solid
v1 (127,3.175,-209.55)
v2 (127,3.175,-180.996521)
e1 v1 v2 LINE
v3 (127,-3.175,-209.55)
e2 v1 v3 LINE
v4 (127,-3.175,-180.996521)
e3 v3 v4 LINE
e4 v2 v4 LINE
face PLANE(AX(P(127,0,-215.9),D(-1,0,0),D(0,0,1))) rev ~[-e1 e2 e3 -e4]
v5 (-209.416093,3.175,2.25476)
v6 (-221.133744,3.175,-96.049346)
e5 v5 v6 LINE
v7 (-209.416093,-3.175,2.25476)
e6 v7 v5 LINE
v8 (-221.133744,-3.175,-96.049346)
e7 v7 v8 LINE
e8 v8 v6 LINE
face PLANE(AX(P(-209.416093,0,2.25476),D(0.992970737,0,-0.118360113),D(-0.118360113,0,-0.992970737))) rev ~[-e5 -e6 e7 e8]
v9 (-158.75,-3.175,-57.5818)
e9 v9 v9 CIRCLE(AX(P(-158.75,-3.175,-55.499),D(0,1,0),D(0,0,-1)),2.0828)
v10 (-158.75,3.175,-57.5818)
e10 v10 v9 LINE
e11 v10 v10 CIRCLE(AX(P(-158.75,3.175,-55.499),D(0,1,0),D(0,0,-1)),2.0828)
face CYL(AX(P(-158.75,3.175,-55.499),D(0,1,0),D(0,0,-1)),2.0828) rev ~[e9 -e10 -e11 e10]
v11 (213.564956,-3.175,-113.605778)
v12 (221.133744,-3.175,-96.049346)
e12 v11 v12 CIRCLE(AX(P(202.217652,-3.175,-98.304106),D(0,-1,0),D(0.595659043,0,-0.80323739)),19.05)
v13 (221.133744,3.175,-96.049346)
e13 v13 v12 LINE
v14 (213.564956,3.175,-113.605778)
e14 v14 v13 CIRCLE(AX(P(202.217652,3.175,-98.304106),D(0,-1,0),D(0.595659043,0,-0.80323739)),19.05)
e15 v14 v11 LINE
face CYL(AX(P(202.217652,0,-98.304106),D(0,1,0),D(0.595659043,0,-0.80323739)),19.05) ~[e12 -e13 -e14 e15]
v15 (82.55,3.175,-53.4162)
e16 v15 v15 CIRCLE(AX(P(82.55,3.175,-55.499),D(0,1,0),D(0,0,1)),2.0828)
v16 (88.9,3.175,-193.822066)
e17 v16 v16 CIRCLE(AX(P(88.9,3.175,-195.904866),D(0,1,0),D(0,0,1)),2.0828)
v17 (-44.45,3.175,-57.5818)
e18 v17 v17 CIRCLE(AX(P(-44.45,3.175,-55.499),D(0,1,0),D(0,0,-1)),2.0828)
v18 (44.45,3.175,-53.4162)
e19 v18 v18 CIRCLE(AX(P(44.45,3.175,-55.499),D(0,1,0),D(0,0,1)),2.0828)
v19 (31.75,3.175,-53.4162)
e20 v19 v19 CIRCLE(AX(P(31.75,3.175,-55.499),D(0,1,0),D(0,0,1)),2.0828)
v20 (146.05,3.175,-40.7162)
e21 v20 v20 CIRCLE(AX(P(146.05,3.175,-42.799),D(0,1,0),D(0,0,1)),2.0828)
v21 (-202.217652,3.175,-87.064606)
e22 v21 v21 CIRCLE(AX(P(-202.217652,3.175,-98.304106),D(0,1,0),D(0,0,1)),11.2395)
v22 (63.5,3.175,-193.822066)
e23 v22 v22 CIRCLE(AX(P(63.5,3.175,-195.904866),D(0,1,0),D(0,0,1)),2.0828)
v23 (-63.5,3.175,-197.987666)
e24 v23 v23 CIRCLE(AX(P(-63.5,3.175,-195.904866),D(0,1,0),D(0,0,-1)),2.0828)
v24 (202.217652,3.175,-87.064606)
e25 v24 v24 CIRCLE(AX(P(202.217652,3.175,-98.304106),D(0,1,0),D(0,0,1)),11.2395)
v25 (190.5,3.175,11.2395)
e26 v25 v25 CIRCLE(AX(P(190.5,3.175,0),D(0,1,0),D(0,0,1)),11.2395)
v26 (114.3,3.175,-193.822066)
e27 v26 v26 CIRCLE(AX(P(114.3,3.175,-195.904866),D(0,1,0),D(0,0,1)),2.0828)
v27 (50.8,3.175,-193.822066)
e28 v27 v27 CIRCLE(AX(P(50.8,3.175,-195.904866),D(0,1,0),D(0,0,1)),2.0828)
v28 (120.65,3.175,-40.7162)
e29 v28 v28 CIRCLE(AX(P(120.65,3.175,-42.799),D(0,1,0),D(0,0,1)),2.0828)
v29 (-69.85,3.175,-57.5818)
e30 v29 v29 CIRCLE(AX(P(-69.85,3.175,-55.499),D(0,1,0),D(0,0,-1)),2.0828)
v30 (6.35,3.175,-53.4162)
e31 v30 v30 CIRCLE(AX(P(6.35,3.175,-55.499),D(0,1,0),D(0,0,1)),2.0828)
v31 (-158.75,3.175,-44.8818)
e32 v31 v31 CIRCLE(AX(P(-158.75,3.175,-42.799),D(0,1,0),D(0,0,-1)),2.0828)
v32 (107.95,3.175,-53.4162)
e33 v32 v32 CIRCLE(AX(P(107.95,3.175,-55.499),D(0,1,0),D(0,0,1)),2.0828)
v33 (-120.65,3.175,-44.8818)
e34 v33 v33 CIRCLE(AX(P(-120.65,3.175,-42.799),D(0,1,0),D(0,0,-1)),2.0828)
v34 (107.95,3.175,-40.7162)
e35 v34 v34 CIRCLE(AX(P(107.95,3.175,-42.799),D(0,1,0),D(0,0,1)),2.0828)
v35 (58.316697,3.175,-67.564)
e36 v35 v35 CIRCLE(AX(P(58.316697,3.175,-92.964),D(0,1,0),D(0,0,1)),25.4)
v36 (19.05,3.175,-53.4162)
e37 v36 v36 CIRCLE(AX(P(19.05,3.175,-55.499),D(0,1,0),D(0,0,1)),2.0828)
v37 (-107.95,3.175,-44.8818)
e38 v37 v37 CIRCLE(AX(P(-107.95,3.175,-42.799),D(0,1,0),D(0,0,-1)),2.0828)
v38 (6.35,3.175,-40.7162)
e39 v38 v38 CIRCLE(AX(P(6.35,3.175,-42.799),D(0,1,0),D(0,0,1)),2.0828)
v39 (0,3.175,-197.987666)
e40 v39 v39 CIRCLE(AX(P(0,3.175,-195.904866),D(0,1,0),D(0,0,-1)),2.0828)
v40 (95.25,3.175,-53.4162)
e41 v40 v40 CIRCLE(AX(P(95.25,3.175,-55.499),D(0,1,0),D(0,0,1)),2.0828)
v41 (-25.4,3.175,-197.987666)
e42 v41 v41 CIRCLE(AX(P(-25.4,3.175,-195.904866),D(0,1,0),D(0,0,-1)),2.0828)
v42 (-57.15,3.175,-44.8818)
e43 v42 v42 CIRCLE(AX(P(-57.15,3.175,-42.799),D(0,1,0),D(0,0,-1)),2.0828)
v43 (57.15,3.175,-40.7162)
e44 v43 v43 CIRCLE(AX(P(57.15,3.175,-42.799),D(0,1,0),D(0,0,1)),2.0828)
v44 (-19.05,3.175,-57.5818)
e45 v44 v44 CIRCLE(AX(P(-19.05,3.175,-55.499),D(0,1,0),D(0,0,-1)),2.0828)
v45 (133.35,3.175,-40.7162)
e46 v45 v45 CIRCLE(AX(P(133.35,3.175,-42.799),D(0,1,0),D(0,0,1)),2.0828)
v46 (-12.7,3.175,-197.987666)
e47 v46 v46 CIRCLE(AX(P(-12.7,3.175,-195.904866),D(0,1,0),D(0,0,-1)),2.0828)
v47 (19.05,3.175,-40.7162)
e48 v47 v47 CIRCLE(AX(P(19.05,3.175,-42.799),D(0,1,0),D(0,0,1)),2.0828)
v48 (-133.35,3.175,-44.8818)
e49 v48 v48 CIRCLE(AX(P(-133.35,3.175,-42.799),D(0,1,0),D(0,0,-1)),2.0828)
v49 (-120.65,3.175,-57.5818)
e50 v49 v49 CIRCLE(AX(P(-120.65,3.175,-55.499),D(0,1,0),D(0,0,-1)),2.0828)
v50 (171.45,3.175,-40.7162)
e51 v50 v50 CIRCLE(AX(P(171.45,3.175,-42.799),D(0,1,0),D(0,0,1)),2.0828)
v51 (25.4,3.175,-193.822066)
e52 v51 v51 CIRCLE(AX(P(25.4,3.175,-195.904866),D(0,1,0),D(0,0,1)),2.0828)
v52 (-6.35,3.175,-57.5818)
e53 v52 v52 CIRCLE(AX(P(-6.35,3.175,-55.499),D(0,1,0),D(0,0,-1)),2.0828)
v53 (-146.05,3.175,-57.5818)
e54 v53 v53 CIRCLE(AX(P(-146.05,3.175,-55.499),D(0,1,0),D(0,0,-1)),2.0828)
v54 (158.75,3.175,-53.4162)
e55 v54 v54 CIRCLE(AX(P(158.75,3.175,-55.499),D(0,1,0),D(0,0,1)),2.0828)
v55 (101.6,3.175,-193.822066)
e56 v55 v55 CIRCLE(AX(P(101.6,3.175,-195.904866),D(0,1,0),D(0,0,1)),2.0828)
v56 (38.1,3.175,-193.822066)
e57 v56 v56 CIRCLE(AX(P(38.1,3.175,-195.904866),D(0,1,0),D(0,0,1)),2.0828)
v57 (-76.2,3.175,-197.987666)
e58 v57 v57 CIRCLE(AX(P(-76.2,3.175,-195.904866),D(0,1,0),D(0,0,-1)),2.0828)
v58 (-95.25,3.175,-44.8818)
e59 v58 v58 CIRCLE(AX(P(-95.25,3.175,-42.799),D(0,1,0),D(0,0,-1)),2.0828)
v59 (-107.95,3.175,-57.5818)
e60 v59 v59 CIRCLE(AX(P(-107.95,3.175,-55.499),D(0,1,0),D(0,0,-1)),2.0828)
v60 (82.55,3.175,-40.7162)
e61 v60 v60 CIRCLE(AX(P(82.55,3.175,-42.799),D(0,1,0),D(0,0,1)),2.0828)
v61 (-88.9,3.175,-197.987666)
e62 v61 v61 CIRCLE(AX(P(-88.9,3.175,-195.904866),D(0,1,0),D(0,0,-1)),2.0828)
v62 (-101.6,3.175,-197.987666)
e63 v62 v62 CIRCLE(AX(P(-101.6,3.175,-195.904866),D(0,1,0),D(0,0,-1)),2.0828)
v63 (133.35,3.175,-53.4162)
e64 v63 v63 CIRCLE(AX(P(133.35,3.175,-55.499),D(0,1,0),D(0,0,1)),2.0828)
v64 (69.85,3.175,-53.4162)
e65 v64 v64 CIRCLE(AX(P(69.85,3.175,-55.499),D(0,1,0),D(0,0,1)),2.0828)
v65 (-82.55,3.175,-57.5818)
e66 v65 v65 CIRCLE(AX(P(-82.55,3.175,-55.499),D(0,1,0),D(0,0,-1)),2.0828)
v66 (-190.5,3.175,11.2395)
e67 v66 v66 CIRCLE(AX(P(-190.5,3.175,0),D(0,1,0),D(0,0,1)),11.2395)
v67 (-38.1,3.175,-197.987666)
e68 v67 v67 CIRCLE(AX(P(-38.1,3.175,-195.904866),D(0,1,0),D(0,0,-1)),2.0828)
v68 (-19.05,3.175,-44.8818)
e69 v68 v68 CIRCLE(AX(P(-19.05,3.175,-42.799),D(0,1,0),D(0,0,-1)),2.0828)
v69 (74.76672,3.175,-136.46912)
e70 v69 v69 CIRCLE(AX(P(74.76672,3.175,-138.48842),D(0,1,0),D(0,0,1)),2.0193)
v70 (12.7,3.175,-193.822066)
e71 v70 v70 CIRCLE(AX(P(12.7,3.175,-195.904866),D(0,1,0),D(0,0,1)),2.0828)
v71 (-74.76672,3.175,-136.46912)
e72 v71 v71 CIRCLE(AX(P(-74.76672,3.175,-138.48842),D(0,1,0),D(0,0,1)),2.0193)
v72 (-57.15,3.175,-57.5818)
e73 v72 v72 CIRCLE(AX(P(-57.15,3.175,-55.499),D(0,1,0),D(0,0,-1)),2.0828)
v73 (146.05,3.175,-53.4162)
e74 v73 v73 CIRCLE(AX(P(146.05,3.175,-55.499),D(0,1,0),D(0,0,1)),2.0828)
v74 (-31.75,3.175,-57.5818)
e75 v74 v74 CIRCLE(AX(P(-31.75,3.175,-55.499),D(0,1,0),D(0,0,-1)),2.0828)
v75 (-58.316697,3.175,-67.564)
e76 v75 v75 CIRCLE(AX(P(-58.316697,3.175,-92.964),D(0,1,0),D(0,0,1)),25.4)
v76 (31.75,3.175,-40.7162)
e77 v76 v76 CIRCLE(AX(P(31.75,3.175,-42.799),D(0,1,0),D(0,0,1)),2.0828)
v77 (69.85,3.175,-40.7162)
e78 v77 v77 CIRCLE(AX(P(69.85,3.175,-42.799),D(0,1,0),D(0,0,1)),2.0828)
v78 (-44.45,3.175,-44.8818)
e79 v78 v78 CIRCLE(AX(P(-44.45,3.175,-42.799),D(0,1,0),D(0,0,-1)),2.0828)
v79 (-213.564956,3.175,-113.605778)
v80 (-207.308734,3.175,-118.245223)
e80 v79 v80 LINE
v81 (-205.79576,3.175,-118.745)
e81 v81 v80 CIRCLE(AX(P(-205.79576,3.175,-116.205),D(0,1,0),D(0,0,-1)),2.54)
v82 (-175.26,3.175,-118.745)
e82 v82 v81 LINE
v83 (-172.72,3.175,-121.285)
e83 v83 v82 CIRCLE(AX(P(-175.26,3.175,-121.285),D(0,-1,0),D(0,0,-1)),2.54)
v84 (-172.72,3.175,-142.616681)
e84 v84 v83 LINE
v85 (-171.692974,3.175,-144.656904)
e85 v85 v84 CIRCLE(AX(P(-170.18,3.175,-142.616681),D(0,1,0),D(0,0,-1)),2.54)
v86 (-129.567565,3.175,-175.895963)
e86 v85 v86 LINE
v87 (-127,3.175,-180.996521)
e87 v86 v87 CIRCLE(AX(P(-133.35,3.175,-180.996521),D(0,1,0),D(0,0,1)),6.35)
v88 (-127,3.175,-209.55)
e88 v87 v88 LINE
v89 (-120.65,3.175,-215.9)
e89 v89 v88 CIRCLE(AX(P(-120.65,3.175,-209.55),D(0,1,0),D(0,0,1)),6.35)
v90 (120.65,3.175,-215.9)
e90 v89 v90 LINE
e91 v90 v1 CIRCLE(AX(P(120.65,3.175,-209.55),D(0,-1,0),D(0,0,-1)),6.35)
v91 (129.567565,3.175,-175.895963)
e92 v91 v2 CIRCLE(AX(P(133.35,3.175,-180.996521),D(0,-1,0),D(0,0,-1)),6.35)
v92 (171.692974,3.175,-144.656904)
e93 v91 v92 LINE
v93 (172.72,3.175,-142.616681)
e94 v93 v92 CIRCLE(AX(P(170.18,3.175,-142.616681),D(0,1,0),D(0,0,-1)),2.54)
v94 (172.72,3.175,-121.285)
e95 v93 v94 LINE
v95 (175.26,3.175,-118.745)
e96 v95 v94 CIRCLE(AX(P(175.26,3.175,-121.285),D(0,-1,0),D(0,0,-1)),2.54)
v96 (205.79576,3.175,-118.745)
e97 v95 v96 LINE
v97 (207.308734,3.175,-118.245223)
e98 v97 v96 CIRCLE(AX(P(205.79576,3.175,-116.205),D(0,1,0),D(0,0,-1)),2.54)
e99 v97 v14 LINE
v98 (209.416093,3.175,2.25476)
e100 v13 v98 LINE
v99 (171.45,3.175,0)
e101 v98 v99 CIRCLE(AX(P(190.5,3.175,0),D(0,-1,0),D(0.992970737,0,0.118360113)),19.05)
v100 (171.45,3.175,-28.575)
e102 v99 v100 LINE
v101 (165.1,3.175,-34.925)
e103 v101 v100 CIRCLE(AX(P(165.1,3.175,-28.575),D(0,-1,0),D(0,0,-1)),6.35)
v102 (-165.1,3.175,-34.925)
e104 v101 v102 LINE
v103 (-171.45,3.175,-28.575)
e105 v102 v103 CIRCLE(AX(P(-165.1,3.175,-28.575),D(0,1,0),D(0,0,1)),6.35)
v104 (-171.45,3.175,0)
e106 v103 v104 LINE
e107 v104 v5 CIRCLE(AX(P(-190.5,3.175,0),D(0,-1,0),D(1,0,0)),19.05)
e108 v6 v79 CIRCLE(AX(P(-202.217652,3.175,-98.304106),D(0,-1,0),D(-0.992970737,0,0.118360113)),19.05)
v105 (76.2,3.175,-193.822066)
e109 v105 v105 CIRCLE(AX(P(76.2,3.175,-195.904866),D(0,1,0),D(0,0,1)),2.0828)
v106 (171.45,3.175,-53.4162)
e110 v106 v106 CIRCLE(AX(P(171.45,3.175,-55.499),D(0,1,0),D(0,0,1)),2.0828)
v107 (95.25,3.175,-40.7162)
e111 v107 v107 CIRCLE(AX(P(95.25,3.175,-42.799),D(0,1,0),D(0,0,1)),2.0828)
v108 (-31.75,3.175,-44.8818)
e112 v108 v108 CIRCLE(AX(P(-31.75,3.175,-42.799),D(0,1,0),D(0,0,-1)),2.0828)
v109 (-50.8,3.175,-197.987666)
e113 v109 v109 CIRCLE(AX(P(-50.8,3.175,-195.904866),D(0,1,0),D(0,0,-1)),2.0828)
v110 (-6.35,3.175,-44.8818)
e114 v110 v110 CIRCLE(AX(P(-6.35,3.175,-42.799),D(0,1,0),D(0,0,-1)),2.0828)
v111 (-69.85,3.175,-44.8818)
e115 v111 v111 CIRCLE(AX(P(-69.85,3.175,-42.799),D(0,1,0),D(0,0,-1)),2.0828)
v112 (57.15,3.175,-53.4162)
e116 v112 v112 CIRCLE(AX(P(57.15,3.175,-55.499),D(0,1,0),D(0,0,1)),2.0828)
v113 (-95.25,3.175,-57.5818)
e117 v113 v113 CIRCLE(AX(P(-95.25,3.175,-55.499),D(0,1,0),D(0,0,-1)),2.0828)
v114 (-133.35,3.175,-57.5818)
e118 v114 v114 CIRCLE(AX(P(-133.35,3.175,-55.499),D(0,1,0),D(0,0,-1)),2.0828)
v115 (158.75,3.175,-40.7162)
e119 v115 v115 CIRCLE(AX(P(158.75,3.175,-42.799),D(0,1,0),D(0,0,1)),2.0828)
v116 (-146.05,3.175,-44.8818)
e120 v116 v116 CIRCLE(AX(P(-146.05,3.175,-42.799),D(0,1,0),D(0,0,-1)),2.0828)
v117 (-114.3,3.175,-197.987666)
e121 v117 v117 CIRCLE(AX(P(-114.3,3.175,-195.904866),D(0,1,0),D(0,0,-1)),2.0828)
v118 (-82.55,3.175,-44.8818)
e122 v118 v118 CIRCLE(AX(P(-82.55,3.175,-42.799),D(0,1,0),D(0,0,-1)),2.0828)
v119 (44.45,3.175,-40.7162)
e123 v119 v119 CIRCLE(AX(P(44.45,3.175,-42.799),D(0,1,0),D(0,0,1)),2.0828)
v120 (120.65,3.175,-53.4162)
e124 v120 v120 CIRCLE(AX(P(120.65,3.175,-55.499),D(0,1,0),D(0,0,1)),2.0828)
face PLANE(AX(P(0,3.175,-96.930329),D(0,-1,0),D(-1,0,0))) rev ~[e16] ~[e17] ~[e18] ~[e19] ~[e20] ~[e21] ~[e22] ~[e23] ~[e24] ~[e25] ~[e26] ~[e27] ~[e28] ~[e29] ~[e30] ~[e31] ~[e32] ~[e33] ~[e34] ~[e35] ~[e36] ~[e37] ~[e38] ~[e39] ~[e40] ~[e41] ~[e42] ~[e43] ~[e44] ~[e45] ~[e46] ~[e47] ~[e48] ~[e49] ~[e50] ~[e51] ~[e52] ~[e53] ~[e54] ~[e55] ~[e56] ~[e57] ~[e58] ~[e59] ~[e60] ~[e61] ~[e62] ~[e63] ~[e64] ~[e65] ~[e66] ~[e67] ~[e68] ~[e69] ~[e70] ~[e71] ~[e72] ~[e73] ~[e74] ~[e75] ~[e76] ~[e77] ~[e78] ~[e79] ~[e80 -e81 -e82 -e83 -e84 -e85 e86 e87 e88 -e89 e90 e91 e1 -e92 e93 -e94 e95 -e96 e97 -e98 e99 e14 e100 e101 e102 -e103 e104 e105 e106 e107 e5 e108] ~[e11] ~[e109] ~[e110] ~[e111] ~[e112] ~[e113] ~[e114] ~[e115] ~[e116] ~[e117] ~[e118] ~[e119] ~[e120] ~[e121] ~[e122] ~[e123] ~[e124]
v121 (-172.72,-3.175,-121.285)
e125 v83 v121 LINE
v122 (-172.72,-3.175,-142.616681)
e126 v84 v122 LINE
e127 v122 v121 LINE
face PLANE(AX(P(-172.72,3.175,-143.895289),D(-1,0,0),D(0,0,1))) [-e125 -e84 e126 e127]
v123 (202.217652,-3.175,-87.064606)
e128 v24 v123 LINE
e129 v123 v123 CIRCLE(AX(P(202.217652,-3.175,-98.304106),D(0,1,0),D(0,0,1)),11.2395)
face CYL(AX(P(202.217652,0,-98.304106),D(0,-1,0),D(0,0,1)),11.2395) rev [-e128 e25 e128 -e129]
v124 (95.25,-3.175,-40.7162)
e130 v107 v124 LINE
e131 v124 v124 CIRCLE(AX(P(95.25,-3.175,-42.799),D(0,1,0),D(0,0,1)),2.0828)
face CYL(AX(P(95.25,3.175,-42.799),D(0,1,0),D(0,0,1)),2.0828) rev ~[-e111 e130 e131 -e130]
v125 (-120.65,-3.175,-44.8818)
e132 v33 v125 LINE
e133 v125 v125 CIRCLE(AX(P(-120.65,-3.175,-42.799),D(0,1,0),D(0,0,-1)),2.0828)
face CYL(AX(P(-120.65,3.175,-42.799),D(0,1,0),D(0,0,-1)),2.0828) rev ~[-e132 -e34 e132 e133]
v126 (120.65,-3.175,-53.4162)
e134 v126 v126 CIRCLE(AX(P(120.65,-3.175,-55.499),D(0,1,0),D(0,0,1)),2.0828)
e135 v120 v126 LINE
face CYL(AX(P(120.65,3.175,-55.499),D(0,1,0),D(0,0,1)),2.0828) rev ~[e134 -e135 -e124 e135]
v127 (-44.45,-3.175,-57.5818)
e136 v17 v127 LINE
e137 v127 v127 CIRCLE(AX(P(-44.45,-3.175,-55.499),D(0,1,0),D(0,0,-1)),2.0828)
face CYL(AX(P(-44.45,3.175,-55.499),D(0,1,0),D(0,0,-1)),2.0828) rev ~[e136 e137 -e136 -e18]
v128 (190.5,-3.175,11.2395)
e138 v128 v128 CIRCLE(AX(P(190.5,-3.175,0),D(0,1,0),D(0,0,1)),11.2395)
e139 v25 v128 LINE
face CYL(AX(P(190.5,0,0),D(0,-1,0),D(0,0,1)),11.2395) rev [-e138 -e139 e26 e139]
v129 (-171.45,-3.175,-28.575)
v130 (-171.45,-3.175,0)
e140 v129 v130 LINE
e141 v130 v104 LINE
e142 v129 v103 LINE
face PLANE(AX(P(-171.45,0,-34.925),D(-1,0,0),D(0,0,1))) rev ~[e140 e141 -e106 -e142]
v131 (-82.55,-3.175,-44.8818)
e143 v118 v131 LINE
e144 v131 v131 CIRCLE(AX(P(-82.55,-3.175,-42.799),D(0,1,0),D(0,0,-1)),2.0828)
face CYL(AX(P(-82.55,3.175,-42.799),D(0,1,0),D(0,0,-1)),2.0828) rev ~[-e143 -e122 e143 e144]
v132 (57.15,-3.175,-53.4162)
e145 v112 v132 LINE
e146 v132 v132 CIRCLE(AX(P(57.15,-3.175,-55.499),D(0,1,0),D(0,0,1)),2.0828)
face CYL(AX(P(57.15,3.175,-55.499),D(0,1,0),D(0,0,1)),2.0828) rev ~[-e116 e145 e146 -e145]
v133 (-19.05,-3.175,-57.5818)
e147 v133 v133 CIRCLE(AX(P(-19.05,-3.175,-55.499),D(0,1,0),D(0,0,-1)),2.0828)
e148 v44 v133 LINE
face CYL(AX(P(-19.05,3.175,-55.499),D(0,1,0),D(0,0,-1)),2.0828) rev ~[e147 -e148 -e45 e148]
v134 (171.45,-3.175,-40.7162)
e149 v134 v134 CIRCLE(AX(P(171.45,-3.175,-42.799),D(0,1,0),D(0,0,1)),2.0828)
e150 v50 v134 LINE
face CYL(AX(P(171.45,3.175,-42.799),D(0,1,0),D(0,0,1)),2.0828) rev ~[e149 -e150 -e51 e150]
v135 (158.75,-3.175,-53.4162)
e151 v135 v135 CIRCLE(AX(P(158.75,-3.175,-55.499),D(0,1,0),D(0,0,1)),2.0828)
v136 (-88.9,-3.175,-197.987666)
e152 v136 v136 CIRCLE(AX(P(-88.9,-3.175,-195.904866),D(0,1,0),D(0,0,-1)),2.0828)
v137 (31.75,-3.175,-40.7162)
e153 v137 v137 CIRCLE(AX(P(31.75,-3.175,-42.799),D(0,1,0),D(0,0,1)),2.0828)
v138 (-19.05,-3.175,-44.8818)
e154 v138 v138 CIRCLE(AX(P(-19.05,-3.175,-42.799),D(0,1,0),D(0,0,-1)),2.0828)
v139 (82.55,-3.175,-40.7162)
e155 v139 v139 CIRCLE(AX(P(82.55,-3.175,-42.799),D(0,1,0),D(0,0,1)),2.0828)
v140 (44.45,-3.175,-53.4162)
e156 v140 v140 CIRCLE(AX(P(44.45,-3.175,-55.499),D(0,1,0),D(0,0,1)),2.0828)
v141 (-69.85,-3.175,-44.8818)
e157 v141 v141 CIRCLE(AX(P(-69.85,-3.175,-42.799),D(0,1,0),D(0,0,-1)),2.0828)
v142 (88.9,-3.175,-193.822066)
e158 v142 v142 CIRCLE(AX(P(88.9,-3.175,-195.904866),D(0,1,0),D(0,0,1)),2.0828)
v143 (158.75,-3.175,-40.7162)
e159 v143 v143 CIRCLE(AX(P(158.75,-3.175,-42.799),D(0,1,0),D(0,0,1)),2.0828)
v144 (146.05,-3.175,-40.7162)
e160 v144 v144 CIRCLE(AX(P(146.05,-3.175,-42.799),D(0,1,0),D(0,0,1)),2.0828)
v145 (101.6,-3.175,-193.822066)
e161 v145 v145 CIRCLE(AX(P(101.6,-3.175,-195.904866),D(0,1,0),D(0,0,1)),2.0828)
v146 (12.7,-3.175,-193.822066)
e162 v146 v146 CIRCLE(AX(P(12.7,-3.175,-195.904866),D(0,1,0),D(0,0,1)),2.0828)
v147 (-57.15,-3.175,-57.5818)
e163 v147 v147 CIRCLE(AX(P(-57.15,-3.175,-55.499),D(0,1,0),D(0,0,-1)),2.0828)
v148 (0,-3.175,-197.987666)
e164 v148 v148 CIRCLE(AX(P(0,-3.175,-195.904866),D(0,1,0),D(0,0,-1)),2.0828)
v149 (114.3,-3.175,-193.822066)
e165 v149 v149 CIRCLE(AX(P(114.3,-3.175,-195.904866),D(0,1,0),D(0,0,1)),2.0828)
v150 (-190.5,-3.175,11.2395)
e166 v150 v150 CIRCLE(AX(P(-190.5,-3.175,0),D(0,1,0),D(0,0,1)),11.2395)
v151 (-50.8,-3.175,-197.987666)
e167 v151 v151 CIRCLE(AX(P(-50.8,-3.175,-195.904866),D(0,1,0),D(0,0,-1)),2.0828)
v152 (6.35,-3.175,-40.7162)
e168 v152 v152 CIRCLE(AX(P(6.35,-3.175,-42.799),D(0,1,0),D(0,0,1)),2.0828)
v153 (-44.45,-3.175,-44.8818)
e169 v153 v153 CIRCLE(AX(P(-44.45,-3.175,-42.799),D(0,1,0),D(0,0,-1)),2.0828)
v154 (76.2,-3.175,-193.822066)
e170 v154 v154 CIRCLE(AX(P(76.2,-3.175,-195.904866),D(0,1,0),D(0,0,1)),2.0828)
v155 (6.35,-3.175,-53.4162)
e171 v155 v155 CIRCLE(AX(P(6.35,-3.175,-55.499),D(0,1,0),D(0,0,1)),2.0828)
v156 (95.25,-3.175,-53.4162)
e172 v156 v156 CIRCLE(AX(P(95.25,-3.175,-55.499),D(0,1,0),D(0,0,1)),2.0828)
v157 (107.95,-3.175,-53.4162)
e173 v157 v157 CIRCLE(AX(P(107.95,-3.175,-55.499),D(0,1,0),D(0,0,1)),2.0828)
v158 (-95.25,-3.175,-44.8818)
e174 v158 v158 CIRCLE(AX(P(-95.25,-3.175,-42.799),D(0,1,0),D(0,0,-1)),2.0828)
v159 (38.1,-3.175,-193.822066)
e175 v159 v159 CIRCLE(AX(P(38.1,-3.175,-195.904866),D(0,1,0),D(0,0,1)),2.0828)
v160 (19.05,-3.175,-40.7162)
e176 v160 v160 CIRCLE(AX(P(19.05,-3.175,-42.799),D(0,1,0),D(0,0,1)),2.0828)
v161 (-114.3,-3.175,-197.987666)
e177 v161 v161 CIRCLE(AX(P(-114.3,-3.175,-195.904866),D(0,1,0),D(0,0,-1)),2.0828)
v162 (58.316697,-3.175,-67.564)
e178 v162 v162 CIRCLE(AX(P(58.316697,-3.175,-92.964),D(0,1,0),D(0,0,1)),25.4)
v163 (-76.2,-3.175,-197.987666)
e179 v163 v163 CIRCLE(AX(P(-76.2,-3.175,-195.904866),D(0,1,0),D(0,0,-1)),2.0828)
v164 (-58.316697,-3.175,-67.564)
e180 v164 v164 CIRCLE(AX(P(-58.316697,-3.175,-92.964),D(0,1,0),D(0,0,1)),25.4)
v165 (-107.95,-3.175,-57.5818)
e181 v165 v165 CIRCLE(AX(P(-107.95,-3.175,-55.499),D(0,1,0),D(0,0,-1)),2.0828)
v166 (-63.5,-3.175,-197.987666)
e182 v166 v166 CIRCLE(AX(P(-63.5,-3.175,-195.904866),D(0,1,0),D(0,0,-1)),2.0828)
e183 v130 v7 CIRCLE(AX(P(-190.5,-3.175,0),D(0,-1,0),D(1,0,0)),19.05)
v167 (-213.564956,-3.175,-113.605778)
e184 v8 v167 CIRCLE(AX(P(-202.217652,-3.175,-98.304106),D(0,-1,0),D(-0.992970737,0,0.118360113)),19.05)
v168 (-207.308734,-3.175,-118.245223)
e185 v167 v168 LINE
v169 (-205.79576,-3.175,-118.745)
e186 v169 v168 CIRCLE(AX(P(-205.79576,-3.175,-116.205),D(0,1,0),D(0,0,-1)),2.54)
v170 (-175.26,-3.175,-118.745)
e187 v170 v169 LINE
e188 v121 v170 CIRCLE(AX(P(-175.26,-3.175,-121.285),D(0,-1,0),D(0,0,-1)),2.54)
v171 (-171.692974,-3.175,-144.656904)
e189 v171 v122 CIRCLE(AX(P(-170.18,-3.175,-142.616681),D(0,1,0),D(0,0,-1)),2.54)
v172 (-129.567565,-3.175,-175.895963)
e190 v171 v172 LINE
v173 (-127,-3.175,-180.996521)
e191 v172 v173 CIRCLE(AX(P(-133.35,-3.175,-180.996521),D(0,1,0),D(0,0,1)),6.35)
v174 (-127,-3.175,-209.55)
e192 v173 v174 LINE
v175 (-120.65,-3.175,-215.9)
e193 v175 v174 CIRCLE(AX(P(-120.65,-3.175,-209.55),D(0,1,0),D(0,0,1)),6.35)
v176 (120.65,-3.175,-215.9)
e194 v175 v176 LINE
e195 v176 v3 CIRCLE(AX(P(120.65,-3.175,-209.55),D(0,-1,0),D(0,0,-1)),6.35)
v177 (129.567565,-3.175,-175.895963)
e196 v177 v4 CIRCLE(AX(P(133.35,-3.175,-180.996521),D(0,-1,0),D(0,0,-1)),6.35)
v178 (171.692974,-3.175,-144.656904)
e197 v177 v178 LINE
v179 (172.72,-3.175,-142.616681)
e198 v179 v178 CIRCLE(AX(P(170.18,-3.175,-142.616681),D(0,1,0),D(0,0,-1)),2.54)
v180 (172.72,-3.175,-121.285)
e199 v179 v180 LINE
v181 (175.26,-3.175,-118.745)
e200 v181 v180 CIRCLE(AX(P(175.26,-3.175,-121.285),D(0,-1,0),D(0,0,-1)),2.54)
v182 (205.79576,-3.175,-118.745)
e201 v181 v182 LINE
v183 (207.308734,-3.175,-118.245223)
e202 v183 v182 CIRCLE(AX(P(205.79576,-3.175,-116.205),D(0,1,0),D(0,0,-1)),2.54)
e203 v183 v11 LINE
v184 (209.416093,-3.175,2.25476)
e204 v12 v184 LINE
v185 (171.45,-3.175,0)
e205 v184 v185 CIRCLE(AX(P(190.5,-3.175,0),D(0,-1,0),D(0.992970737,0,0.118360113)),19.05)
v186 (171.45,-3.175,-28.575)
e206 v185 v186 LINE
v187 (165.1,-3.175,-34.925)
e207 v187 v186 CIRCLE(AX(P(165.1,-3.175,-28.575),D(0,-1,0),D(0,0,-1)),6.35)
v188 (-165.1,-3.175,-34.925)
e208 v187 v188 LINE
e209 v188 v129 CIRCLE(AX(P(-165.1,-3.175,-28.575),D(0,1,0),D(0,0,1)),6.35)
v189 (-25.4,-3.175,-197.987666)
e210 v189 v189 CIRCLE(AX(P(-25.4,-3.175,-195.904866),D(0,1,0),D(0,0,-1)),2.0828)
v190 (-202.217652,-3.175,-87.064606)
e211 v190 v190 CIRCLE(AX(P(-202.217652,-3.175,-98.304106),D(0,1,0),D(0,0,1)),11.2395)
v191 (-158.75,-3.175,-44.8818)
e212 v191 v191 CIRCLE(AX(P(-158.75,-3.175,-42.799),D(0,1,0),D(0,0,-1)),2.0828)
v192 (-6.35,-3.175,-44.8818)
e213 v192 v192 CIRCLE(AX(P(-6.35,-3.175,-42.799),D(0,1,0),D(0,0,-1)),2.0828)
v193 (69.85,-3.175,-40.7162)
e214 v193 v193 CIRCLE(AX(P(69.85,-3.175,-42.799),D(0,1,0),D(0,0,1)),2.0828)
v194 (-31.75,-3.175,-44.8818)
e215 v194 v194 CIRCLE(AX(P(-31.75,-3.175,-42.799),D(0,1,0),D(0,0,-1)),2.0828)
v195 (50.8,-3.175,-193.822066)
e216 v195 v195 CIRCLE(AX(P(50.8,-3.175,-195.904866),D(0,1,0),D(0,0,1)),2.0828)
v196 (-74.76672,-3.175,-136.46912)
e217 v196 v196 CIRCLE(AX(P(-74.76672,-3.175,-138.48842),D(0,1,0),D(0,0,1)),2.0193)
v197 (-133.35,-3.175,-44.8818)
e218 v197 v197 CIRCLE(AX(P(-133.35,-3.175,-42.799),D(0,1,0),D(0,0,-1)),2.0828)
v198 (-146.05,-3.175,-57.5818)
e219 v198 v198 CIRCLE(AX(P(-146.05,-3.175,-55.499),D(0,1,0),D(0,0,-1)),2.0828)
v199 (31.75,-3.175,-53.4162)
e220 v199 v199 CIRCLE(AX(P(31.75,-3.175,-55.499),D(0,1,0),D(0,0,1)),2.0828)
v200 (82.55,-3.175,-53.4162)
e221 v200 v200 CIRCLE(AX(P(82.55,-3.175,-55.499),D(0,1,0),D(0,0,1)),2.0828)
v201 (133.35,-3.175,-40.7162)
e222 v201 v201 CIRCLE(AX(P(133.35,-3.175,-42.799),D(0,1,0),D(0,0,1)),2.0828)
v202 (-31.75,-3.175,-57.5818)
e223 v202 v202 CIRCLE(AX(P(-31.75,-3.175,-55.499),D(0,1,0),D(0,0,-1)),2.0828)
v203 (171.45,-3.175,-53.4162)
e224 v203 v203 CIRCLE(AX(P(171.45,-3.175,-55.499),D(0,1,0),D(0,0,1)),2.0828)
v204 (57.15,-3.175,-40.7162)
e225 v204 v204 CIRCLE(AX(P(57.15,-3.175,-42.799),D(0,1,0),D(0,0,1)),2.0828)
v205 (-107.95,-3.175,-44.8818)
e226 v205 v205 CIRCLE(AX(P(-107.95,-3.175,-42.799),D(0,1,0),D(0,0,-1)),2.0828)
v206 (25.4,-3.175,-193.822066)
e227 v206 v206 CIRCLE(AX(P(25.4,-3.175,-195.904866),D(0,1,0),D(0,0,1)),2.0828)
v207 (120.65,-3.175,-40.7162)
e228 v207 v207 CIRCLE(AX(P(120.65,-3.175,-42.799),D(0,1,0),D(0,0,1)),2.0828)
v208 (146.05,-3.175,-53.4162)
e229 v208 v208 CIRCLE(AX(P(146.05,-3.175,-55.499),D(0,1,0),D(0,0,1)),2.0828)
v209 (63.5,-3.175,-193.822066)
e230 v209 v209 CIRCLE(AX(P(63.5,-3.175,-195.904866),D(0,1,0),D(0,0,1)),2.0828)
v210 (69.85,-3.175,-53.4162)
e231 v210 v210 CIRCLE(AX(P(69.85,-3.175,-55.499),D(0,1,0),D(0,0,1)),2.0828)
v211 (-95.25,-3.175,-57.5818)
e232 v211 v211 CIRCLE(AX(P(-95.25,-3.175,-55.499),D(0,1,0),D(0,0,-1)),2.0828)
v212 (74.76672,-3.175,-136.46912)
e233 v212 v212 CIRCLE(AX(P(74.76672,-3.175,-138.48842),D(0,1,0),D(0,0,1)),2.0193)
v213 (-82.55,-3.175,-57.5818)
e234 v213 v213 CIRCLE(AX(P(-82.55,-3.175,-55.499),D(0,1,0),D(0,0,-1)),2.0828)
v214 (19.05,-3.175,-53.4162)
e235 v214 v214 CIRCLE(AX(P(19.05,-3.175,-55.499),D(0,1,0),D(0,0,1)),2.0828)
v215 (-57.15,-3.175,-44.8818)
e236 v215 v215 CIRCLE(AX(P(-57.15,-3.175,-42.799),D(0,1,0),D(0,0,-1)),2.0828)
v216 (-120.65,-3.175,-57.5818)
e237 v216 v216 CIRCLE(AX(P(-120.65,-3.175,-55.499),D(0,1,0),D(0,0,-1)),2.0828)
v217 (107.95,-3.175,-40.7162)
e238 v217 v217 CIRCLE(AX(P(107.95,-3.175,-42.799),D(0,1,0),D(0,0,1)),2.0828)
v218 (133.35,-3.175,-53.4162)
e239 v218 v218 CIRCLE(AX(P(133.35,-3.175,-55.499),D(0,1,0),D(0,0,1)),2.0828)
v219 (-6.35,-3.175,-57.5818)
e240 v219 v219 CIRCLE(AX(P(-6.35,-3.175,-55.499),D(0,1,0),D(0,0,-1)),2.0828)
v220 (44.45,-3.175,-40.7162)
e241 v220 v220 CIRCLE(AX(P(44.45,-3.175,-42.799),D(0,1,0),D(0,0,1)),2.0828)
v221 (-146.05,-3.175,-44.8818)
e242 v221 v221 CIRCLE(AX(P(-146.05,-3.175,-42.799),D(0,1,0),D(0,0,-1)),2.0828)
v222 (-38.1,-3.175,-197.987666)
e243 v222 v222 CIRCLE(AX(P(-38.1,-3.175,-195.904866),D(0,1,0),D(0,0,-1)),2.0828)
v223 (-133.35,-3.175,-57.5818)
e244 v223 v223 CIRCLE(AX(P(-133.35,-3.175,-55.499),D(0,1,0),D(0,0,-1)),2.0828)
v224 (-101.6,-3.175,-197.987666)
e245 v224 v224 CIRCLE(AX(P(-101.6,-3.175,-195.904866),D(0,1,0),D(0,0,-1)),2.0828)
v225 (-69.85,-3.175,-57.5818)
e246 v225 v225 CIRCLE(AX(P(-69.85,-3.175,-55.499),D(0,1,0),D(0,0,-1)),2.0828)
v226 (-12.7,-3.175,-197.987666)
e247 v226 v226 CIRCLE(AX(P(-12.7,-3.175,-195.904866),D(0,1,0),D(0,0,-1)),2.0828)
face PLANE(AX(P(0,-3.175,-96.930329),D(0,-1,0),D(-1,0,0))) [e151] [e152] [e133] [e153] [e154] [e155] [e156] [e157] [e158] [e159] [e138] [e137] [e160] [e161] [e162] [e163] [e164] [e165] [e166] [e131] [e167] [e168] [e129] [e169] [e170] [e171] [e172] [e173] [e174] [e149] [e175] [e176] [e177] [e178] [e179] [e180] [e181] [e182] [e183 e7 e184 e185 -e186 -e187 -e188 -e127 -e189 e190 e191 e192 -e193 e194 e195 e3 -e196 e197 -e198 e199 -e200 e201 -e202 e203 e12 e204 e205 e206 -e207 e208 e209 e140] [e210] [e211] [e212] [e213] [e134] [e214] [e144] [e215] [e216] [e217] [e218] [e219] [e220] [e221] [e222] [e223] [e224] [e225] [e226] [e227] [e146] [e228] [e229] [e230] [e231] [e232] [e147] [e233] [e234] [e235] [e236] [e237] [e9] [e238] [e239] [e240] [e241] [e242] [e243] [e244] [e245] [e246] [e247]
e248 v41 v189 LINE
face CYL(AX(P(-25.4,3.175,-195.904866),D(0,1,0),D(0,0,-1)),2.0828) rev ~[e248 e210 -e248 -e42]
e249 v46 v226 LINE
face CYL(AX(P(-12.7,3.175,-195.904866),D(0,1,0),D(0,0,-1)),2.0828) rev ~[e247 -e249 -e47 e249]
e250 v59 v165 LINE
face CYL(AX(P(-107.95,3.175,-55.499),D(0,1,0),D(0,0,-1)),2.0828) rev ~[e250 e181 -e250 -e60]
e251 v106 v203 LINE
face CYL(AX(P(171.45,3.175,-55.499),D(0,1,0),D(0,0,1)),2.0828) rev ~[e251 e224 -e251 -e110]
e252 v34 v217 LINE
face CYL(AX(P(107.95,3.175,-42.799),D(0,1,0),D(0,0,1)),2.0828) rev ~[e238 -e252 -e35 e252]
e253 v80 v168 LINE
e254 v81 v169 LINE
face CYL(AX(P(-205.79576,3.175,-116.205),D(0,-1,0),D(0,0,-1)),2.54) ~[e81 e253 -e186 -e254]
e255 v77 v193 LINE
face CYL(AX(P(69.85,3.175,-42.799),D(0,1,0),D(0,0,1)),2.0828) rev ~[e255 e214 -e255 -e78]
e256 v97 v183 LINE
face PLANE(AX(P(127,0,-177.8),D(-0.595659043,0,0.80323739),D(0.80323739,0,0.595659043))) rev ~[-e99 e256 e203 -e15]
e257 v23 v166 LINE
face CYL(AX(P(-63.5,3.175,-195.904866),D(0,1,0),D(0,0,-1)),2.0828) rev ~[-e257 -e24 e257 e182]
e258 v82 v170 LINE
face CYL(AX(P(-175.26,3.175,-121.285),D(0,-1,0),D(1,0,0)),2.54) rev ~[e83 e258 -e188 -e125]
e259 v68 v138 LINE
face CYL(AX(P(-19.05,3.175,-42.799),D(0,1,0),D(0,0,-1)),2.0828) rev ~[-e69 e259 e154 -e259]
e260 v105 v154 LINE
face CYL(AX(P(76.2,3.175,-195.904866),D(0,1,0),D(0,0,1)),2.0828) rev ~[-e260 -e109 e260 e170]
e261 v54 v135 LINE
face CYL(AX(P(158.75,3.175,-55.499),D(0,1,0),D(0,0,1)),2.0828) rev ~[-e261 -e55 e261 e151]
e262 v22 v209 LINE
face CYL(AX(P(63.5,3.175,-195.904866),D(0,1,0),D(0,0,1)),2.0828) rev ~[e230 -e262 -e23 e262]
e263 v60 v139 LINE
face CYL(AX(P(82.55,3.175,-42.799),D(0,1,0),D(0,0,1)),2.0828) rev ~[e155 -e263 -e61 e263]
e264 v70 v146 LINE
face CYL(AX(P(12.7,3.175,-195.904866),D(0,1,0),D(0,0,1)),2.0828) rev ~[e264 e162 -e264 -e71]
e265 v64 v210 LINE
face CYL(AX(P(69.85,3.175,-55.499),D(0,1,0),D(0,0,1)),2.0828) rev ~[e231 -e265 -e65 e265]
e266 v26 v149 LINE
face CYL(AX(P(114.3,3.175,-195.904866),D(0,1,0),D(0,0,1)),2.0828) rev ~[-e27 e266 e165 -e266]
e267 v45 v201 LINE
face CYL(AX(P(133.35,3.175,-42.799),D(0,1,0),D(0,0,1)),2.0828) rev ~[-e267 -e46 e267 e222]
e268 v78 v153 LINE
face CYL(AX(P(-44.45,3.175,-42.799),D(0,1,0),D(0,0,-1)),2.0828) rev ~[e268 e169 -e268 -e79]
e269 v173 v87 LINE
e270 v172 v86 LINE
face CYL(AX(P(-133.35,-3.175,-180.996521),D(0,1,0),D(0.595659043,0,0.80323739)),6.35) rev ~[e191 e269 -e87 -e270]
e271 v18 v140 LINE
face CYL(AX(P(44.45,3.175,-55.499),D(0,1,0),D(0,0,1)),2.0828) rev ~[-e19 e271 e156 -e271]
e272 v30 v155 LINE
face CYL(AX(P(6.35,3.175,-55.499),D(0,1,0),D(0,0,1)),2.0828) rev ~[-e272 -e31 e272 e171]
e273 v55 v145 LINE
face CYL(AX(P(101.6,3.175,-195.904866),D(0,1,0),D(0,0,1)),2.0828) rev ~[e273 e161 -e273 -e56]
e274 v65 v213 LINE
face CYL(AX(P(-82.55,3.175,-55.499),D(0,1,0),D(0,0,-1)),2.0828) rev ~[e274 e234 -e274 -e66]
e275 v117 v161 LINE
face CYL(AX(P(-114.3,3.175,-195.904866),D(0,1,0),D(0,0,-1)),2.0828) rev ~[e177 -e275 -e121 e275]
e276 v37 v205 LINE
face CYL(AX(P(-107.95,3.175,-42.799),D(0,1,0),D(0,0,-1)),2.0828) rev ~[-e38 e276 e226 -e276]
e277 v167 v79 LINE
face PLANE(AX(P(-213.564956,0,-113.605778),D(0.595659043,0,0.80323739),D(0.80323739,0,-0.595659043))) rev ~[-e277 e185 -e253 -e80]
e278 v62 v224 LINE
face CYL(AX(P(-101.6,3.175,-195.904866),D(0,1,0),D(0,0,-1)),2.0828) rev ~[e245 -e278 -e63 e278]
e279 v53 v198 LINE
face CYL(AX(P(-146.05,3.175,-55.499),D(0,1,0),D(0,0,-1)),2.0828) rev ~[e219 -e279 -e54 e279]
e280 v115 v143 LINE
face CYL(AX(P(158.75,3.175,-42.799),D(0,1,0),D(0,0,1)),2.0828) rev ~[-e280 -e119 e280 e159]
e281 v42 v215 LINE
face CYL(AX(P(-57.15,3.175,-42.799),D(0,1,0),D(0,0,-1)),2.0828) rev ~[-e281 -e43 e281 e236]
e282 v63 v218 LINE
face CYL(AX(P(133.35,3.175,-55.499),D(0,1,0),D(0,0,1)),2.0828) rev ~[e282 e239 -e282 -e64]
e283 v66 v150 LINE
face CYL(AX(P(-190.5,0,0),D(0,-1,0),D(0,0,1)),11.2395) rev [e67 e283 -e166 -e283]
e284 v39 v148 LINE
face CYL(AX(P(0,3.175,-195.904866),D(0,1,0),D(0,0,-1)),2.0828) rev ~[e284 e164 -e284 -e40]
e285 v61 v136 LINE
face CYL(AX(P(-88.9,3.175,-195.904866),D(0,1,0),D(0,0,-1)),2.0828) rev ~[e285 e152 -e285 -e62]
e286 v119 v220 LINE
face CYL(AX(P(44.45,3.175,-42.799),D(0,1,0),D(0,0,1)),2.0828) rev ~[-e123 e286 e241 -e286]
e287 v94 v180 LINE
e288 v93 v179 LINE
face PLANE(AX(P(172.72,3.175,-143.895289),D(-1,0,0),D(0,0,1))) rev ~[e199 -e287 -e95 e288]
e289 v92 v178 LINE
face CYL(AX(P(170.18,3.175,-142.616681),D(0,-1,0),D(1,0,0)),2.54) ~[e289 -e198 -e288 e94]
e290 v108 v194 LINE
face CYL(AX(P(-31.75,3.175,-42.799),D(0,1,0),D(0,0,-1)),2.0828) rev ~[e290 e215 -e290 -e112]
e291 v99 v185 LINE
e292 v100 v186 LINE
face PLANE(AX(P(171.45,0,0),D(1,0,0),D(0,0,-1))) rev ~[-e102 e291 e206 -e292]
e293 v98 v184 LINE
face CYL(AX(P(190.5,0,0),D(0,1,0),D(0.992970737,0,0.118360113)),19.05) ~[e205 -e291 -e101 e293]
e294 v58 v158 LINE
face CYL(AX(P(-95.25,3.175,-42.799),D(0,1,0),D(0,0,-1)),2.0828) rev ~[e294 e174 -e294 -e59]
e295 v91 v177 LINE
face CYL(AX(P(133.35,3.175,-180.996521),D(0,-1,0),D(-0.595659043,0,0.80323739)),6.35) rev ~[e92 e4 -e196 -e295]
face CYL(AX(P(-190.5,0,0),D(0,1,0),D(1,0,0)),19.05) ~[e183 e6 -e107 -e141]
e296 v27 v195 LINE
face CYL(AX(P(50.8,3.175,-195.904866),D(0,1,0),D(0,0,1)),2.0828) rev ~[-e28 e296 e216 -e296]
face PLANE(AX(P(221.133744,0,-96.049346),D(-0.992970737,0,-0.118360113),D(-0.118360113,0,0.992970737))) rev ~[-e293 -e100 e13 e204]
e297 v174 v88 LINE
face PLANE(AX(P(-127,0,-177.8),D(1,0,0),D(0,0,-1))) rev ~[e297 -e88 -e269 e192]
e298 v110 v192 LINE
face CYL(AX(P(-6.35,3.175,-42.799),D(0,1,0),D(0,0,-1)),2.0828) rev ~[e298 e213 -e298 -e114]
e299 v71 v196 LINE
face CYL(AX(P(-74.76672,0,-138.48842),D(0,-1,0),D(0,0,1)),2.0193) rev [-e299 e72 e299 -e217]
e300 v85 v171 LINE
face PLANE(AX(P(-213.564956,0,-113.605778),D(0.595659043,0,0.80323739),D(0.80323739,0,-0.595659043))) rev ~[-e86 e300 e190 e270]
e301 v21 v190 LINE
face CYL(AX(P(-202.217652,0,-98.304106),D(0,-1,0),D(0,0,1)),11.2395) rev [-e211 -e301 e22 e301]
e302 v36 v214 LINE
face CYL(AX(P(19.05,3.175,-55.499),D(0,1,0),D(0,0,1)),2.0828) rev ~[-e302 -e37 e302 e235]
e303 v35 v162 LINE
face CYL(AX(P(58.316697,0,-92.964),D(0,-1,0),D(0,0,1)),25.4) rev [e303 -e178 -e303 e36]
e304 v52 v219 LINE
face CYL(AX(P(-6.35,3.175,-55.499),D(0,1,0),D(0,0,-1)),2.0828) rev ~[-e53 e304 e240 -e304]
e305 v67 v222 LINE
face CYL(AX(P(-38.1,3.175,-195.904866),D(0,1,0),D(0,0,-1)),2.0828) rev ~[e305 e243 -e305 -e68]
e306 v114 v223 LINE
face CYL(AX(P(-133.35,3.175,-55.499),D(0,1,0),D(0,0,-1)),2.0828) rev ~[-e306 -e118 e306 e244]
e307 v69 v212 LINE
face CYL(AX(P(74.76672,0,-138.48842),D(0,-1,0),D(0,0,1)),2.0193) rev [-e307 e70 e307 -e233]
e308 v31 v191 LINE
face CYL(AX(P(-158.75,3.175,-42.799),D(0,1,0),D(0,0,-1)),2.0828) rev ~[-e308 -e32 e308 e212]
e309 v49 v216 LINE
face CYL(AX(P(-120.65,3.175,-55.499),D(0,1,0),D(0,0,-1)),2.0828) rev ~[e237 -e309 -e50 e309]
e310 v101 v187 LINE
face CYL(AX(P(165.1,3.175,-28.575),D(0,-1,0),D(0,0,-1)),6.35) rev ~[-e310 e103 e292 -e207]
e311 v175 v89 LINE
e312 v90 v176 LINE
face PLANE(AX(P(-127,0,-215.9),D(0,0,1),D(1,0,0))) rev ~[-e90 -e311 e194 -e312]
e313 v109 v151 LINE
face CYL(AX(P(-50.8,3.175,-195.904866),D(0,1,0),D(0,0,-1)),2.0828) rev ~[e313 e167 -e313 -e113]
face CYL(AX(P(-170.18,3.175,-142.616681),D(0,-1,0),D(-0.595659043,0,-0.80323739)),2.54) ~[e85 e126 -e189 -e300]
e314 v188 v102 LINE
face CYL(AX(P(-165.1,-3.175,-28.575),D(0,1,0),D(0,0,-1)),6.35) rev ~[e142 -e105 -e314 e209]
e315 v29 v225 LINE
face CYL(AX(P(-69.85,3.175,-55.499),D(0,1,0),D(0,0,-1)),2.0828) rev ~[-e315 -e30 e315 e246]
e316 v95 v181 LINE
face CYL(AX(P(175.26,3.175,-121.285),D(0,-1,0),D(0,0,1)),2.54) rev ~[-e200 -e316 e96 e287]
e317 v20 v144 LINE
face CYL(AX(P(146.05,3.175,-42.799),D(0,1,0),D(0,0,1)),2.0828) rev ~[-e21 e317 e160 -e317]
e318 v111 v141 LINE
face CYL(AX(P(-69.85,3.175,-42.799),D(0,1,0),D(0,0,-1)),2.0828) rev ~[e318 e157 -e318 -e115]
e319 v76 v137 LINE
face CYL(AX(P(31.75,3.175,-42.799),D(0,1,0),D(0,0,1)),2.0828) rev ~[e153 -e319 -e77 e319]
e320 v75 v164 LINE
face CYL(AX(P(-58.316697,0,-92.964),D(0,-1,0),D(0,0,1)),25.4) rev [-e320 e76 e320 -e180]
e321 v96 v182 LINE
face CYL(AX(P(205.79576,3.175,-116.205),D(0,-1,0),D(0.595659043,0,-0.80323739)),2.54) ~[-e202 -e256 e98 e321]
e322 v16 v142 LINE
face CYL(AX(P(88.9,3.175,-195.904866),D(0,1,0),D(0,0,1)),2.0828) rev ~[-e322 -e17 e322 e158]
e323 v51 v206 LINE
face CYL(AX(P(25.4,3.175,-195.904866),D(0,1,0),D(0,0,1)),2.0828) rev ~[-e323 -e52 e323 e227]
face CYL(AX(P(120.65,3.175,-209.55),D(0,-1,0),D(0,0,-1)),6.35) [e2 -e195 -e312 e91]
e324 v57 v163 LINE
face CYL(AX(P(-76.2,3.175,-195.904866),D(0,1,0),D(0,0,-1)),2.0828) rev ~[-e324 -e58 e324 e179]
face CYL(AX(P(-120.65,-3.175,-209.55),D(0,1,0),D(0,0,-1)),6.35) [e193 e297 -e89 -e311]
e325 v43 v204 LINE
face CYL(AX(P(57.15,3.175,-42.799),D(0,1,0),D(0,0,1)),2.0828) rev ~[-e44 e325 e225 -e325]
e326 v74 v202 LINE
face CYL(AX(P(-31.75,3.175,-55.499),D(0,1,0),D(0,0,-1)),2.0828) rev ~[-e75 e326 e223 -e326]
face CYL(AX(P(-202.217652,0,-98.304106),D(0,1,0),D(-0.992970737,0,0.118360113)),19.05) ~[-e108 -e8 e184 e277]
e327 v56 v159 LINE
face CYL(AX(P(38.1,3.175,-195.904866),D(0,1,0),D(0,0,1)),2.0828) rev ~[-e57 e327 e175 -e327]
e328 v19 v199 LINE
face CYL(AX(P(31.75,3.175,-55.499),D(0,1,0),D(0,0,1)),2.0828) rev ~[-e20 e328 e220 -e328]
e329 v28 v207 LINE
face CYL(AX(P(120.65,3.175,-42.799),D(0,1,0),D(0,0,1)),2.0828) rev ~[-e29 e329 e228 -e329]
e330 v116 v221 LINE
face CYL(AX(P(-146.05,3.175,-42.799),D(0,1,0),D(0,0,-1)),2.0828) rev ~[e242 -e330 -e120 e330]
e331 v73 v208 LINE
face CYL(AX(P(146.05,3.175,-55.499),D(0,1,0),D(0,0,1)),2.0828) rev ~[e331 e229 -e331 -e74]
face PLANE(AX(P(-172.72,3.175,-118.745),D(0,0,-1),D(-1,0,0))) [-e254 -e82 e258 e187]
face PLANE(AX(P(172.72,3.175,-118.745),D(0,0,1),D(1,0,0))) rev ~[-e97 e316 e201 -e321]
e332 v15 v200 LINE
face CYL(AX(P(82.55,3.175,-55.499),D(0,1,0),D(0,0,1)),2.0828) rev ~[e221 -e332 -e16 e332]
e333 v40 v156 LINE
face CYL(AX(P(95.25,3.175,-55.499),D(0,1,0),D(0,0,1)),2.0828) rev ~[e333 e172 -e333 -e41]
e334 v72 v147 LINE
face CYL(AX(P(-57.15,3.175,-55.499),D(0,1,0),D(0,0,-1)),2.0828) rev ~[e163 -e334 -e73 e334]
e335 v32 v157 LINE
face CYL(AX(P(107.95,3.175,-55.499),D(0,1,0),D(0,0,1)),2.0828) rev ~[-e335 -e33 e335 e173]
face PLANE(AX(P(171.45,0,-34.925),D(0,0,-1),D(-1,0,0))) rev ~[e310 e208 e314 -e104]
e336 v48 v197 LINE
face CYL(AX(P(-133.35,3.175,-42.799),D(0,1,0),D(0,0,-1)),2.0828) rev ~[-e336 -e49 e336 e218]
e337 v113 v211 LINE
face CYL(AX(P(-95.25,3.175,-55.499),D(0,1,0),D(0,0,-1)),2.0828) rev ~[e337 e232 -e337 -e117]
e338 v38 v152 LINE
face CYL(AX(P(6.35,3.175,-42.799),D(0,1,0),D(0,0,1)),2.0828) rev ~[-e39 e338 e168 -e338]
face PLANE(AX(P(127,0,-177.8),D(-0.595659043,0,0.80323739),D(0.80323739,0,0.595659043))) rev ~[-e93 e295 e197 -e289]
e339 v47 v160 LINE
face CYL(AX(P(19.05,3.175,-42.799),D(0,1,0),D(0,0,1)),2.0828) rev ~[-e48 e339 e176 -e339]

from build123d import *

# Parameters (mm, degrees)
SKETCH1_R           = 2.0193
SKETCH1_R_2         = 11.2395
SKETCH1_R_3         = 25.4
BOSS_EXTRUDE1_DEPTH = 3.175
FILLET1_R           = 6.35
SKETCH2_R           = 2.0828
CUT_EXTRUDE1_DEPTH  = 310.212719881
SKETCH3_R           = 2.0828
CUT_EXTRUDE2_DEPTH  = 310.212719881
CUT_EXTRUDE3_REACH  = 311.213
FILLET2_R           = 2.54


with BuildPart() as part:
    # Sketch1 → Boss-Extrude1 (new, symmetric)
    with BuildSketch(Plane(origin=(0, 0, 0), x_dir=(1, 0, 0), z_dir=(0, 1, 0))):
        with BuildLine():
            Line((-127, 215.9), (127, 215.9))
            Line((127, 215.9), (127, 177.8))
            Line((127, 177.8), (213.56495635, 113.60577834))
            ThreePointArc((213.56495635, 113.60577834), (219.711232803, 105.845797916), (221.133744112, 96.049345906))
            Line((221.133744112, 96.049345906), (209.416092531, -2.254760156))
            ThreePointArc((209.416092531, -2.254760156), (189.370633521, -19.016493666), (171.45, 0))
            Line((171.45, 0), (171.45, 34.925))
            Line((171.45, 34.925), (-171.45, 34.925))
            Line((-171.45, 34.925), (-171.45, 0))
            ThreePointArc((-171.45, 0), (-189.370633521, -19.016493666), (-209.416092531, -2.254760156))
            Line((-209.416092531, -2.254760156), (-221.133744112, 96.049345906))
            ThreePointArc((-221.133744112, 96.049345906), (-219.711232803, 105.845797916), (-213.56495635, 113.60577834))
            Line((-213.56495635, 113.60577834), (-127, 177.8))
            Line((-127, 177.8), (-127, 215.9))
        make_face()
        with Locations(Location((-74.76671991, 138.48842, 0), (0, 0, 270))):
            Circle(SKETCH1_R, mode=Mode.SUBTRACT)
        with Locations(Location((-190.5, 0, 0), (0, 0, 270))):
            Circle(SKETCH1_R_2, mode=Mode.SUBTRACT)
        with Locations(Location((74.76671991, 138.48842, 0), (0, 0, 270))):
            Circle(SKETCH1_R, mode=Mode.SUBTRACT)
        with Locations(Location((190.5, 0, 0), (0, 0, 270))):
            Circle(SKETCH1_R_2, mode=Mode.SUBTRACT)
        with Locations(Location((-202.217651581, 98.304106062, 0), (0, 0, 270))):
            Circle(SKETCH1_R_2, mode=Mode.SUBTRACT)
        with Locations(Location((202.217651581, 98.304106062, 0), (0, 0, 270))):
            Circle(SKETCH1_R_2, mode=Mode.SUBTRACT)
        with Locations(Location((-58.316697469, 92.964, 0), (0, 0, 270))):
            Circle(SKETCH1_R_3, mode=Mode.SUBTRACT)
        with Locations(Location((58.316697469, 92.964, 0), (0, 0, 270))):
            Circle(SKETCH1_R_3, mode=Mode.SUBTRACT)
    extrude(amount=BOSS_EXTRUDE1_DEPTH, both=True)

    # Fillet1
    fillet1_edges = [part.edges().sort_by_distance(p)[0] for p in [
        (171.45, 0, -34.925),
        (-171.45, 0, -34.925),
        (-127, 0, -177.8),
        (-127, 0, -215.9),
        (127, 0, -215.9),
        (127, 0, -177.8),
    ]]
    fillet(fillet1_edges, radius=FILLET1_R)

    # Sketch2 → Cut-Extrude1 (cut, through all)
    with BuildSketch(Plane(origin=(0, 3.175, 0), x_dir=(1, 0, 0), z_dir=(0, 1, 0))):
        with Locations(Location((12.7, 195.904866, 0), (0, 0, 270))):
            Circle(SKETCH2_R)
        with Locations(Location((25.4, 195.904866, 0), (0, 0, 270))):
            Circle(SKETCH2_R)
        with Locations(Location((38.1, 195.904866, 0), (0, 0, 270))):
            Circle(SKETCH2_R)
        with Locations(Location((50.8, 195.904866, 0), (0, 0, 270))):
            Circle(SKETCH2_R)
        with Locations(Location((63.5, 195.904866, 0), (0, 0, 270))):
            Circle(SKETCH2_R)
        with Locations(Location((76.2, 195.904866, 0), (0, 0, 270))):
            Circle(SKETCH2_R)
        with Locations(Location((88.9, 195.904866, 0), (0, 0, 270))):
            Circle(SKETCH2_R)
        with Locations(Location((101.6, 195.904866, 0), (0, 0, 270))):
            Circle(SKETCH2_R)
        with Locations(Location((114.3, 195.904866, 0), (0, 0, 270))):
            Circle(SKETCH2_R)
        with Locations(Location((0, 195.904866, 0), (0, 0, 90))):
            Circle(SKETCH2_R)
        with Locations(Location((-114.3, 195.904866, 0), (0, 0, 90))):
            Circle(SKETCH2_R)
        with Locations(Location((-101.6, 195.904866, 0), (0, 0, 90))):
            Circle(SKETCH2_R)
        with Locations(Location((-88.9, 195.904866, 0), (0, 0, 90))):
            Circle(SKETCH2_R)
        with Locations(Location((-76.2, 195.904866, 0), (0, 0, 90))):
            Circle(SKETCH2_R)
        with Locations(Location((-63.5, 195.904866, 0), (0, 0, 90))):
            Circle(SKETCH2_R)
        with Locations(Location((-50.8, 195.904866, 0), (0, 0, 90))):
            Circle(SKETCH2_R)
        with Locations(Location((-38.1, 195.904866, 0), (0, 0, 90))):
            Circle(SKETCH2_R)
        with Locations(Location((-25.4, 195.904866, 0), (0, 0, 90))):
            Circle(SKETCH2_R)
        with Locations(Location((-12.7, 195.904866, 0), (0, 0, 90))):
            Circle(SKETCH2_R)
    extrude(amount=-CUT_EXTRUDE1_DEPTH, mode=Mode.SUBTRACT)

    # Sketch3 → Cut-Extrude2 (cut, through all)
    with BuildSketch(Plane(origin=(0, 3.175, 0), x_dir=(1, 0, 0), z_dir=(0, 1, 0))):
        with Locations(Location((6.35, 42.799, 0), (0, 0, 270))):
            Circle(SKETCH3_R)
        with Locations(Location((19.05, 42.799, 0), (0, 0, 270))):
            Circle(SKETCH3_R)
        with Locations(Location((31.75, 42.799, 0), (0, 0, 270))):
            Circle(SKETCH3_R)
        with Locations(Location((44.45, 42.799, 0), (0, 0, 270))):
            Circle(SKETCH3_R)
        with Locations(Location((57.15, 42.799, 0), (0, 0, 270))):
            Circle(SKETCH3_R)
        with Locations(Location((69.85, 42.799, 0), (0, 0, 270))):
            Circle(SKETCH3_R)
        with Locations(Location((82.55, 42.799, 0), (0, 0, 270))):
            Circle(SKETCH3_R)
        with Locations(Location((95.25, 42.799, 0), (0, 0, 270))):
            Circle(SKETCH3_R)
        with Locations(Location((107.95, 42.799, 0), (0, 0, 270))):
            Circle(SKETCH3_R)
        with Locations(Location((120.65, 42.799, 0), (0, 0, 270))):
            Circle(SKETCH3_R)
        with Locations(Location((133.35, 42.799, 0), (0, 0, 270))):
            Circle(SKETCH3_R)
        with Locations(Location((146.05, 42.799, 0), (0, 0, 270))):
            Circle(SKETCH3_R)
        with Locations(Location((158.75, 42.799, 0), (0, 0, 270))):
            Circle(SKETCH3_R)
        with Locations(Location((171.45, 42.799, 0), (0, 0, 270))):
            Circle(SKETCH3_R)
        with Locations(Location((19.05, 55.499, 0), (0, 0, 270))):
            Circle(SKETCH3_R)
        with Locations(Location((31.75, 55.499, 0), (0, 0, 270))):
            Circle(SKETCH3_R)
        with Locations(Location((44.45, 55.499, 0), (0, 0, 270))):
            Circle(SKETCH3_R)
        with Locations(Location((57.15, 55.499, 0), (0, 0, 270))):
            Circle(SKETCH3_R)
        with Locations(Location((69.85, 55.499, 0), (0, 0, 270))):
            Circle(SKETCH3_R)
        with Locations(Location((82.55, 55.499, 0), (0, 0, 270))):
            Circle(SKETCH3_R)
        with Locations(Location((95.25, 55.499, 0), (0, 0, 270))):
            Circle(SKETCH3_R)
        with Locations(Location((107.95, 55.499, 0), (0, 0, 270))):
            Circle(SKETCH3_R)
        with Locations(Location((120.65, 55.499, 0), (0, 0, 270))):
            Circle(SKETCH3_R)
        with Locations(Location((133.35, 55.499, 0), (0, 0, 270))):
            Circle(SKETCH3_R)
        with Locations(Location((146.05, 55.499, 0), (0, 0, 270))):
            Circle(SKETCH3_R)
        with Locations(Location((158.75, 55.499, 0), (0, 0, 270))):
            Circle(SKETCH3_R)
        with Locations(Location((171.45, 55.499, 0), (0, 0, 270))):
            Circle(SKETCH3_R)
        with Locations(Location((6.35, 55.499, 0), (0, 0, 270))):
            Circle(SKETCH3_R)
        with Locations(Location((-158.75, 55.499, 0), (0, 0, 90))):
            Circle(SKETCH3_R)
        with Locations(Location((-146.05, 55.499, 0), (0, 0, 90))):
            Circle(SKETCH3_R)
        with Locations(Location((-133.35, 55.499, 0), (0, 0, 90))):
            Circle(SKETCH3_R)
        with Locations(Location((-120.65, 55.499, 0), (0, 0, 90))):
            Circle(SKETCH3_R)
        with Locations(Location((-107.95, 55.499, 0), (0, 0, 90))):
            Circle(SKETCH3_R)
        with Locations(Location((-95.25, 55.499, 0), (0, 0, 90))):
            Circle(SKETCH3_R)
        with Locations(Location((-82.55, 55.499, 0), (0, 0, 90))):
            Circle(SKETCH3_R)
        with Locations(Location((-69.85, 55.499, 0), (0, 0, 90))):
            Circle(SKETCH3_R)
        with Locations(Location((-57.15, 55.499, 0), (0, 0, 90))):
            Circle(SKETCH3_R)
        with Locations(Location((-44.45, 55.499, 0), (0, 0, 90))):
            Circle(SKETCH3_R)
        with Locations(Location((-31.75, 55.499, 0), (0, 0, 90))):
            Circle(SKETCH3_R)
        with Locations(Location((-19.05, 55.499, 0), (0, 0, 90))):
            Circle(SKETCH3_R)
        with Locations(Location((-6.35, 55.499, 0), (0, 0, 90))):
            Circle(SKETCH3_R)
        with Locations(Location((-158.75, 42.799, 0), (0, 0, 90))):
            Circle(SKETCH3_R)
        with Locations(Location((-146.05, 42.799, 0), (0, 0, 90))):
            Circle(SKETCH3_R)
        with Locations(Location((-133.35, 42.799, 0), (0, 0, 90))):
            Circle(SKETCH3_R)
        with Locations(Location((-120.65, 42.799, 0), (0, 0, 90))):
            Circle(SKETCH3_R)
        with Locations(Location((-107.95, 42.799, 0), (0, 0, 90))):
            Circle(SKETCH3_R)
        with Locations(Location((-95.25, 42.799, 0), (0, 0, 90))):
            Circle(SKETCH3_R)
        with Locations(Location((-82.55, 42.799, 0), (0, 0, 90))):
            Circle(SKETCH3_R)
        with Locations(Location((-69.85, 42.799, 0), (0, 0, 90))):
            Circle(SKETCH3_R)
        with Locations(Location((-57.15, 42.799, 0), (0, 0, 90))):
            Circle(SKETCH3_R)
        with Locations(Location((-44.45, 42.799, 0), (0, 0, 90))):
            Circle(SKETCH3_R)
        with Locations(Location((-31.75, 42.799, 0), (0, 0, 90))):
            Circle(SKETCH3_R)
        with Locations(Location((-19.05, 42.799, 0), (0, 0, 90))):
            Circle(SKETCH3_R)
        with Locations(Location((-6.35, 42.799, 0), (0, 0, 90))):
            Circle(SKETCH3_R)
    extrude(amount=-CUT_EXTRUDE2_DEPTH, mode=Mode.SUBTRACT)

    # Sketch4 → Cut-Extrude3 (cut, up to next)
    with BuildSketch(Plane(origin=(0, 3.175, 0), x_dir=(1, 0, 0), z_dir=(0, 1, 0)), mode=Mode.PRIVATE) as cut_extrude3_sk1:
        Polygon((-172.72, 143.895289156), (-172.72, 118.745), (-206.63479212, 118.745), align=None)
    cut_extrude3_tool1 = extrude(cut_extrude3_sk1.sketch, amount=-CUT_EXTRUDE3_REACH, mode=Mode.PRIVATE) & part.part
    # Sketch4 → Cut-Extrude3 (cut, up to next)
    with BuildSketch(Plane(origin=(0, 3.175, 0), x_dir=(1, 0, 0), z_dir=(0, 1, 0)), mode=Mode.PRIVATE) as cut_extrude3_sk2:
        Polygon((172.72, 118.745), (206.63479212, 118.745), (172.72, 143.895289156), align=None)
    cut_extrude3_tool2 = extrude(cut_extrude3_sk2.sketch, amount=-CUT_EXTRUDE3_REACH, mode=Mode.PRIVATE) & part.part
    add(cut_extrude3_tool1.solids().sort_by_distance((-184.024931, 3.175, -127.12843))[0], mode=Mode.SUBTRACT)
    add(cut_extrude3_tool2.solids().sort_by_distance((184.024931, 3.175, -127.12843))[0], mode=Mode.SUBTRACT)

    # Fillet2
    fillet2_edges = [part.edges().sort_by_distance(p)[0] for p in [
        (-206.63479212, 0, -118.745),
        (-172.72, 0, -143.895289156),
        (-172.72, 0, -118.745),
        (172.72, 0, -118.745),
        (172.72, 0, -143.895289156),
        (206.63479212, 0, -118.745),
    ]]
    fillet(fillet2_edges, radius=FILLET2_R)


solid = part.part
